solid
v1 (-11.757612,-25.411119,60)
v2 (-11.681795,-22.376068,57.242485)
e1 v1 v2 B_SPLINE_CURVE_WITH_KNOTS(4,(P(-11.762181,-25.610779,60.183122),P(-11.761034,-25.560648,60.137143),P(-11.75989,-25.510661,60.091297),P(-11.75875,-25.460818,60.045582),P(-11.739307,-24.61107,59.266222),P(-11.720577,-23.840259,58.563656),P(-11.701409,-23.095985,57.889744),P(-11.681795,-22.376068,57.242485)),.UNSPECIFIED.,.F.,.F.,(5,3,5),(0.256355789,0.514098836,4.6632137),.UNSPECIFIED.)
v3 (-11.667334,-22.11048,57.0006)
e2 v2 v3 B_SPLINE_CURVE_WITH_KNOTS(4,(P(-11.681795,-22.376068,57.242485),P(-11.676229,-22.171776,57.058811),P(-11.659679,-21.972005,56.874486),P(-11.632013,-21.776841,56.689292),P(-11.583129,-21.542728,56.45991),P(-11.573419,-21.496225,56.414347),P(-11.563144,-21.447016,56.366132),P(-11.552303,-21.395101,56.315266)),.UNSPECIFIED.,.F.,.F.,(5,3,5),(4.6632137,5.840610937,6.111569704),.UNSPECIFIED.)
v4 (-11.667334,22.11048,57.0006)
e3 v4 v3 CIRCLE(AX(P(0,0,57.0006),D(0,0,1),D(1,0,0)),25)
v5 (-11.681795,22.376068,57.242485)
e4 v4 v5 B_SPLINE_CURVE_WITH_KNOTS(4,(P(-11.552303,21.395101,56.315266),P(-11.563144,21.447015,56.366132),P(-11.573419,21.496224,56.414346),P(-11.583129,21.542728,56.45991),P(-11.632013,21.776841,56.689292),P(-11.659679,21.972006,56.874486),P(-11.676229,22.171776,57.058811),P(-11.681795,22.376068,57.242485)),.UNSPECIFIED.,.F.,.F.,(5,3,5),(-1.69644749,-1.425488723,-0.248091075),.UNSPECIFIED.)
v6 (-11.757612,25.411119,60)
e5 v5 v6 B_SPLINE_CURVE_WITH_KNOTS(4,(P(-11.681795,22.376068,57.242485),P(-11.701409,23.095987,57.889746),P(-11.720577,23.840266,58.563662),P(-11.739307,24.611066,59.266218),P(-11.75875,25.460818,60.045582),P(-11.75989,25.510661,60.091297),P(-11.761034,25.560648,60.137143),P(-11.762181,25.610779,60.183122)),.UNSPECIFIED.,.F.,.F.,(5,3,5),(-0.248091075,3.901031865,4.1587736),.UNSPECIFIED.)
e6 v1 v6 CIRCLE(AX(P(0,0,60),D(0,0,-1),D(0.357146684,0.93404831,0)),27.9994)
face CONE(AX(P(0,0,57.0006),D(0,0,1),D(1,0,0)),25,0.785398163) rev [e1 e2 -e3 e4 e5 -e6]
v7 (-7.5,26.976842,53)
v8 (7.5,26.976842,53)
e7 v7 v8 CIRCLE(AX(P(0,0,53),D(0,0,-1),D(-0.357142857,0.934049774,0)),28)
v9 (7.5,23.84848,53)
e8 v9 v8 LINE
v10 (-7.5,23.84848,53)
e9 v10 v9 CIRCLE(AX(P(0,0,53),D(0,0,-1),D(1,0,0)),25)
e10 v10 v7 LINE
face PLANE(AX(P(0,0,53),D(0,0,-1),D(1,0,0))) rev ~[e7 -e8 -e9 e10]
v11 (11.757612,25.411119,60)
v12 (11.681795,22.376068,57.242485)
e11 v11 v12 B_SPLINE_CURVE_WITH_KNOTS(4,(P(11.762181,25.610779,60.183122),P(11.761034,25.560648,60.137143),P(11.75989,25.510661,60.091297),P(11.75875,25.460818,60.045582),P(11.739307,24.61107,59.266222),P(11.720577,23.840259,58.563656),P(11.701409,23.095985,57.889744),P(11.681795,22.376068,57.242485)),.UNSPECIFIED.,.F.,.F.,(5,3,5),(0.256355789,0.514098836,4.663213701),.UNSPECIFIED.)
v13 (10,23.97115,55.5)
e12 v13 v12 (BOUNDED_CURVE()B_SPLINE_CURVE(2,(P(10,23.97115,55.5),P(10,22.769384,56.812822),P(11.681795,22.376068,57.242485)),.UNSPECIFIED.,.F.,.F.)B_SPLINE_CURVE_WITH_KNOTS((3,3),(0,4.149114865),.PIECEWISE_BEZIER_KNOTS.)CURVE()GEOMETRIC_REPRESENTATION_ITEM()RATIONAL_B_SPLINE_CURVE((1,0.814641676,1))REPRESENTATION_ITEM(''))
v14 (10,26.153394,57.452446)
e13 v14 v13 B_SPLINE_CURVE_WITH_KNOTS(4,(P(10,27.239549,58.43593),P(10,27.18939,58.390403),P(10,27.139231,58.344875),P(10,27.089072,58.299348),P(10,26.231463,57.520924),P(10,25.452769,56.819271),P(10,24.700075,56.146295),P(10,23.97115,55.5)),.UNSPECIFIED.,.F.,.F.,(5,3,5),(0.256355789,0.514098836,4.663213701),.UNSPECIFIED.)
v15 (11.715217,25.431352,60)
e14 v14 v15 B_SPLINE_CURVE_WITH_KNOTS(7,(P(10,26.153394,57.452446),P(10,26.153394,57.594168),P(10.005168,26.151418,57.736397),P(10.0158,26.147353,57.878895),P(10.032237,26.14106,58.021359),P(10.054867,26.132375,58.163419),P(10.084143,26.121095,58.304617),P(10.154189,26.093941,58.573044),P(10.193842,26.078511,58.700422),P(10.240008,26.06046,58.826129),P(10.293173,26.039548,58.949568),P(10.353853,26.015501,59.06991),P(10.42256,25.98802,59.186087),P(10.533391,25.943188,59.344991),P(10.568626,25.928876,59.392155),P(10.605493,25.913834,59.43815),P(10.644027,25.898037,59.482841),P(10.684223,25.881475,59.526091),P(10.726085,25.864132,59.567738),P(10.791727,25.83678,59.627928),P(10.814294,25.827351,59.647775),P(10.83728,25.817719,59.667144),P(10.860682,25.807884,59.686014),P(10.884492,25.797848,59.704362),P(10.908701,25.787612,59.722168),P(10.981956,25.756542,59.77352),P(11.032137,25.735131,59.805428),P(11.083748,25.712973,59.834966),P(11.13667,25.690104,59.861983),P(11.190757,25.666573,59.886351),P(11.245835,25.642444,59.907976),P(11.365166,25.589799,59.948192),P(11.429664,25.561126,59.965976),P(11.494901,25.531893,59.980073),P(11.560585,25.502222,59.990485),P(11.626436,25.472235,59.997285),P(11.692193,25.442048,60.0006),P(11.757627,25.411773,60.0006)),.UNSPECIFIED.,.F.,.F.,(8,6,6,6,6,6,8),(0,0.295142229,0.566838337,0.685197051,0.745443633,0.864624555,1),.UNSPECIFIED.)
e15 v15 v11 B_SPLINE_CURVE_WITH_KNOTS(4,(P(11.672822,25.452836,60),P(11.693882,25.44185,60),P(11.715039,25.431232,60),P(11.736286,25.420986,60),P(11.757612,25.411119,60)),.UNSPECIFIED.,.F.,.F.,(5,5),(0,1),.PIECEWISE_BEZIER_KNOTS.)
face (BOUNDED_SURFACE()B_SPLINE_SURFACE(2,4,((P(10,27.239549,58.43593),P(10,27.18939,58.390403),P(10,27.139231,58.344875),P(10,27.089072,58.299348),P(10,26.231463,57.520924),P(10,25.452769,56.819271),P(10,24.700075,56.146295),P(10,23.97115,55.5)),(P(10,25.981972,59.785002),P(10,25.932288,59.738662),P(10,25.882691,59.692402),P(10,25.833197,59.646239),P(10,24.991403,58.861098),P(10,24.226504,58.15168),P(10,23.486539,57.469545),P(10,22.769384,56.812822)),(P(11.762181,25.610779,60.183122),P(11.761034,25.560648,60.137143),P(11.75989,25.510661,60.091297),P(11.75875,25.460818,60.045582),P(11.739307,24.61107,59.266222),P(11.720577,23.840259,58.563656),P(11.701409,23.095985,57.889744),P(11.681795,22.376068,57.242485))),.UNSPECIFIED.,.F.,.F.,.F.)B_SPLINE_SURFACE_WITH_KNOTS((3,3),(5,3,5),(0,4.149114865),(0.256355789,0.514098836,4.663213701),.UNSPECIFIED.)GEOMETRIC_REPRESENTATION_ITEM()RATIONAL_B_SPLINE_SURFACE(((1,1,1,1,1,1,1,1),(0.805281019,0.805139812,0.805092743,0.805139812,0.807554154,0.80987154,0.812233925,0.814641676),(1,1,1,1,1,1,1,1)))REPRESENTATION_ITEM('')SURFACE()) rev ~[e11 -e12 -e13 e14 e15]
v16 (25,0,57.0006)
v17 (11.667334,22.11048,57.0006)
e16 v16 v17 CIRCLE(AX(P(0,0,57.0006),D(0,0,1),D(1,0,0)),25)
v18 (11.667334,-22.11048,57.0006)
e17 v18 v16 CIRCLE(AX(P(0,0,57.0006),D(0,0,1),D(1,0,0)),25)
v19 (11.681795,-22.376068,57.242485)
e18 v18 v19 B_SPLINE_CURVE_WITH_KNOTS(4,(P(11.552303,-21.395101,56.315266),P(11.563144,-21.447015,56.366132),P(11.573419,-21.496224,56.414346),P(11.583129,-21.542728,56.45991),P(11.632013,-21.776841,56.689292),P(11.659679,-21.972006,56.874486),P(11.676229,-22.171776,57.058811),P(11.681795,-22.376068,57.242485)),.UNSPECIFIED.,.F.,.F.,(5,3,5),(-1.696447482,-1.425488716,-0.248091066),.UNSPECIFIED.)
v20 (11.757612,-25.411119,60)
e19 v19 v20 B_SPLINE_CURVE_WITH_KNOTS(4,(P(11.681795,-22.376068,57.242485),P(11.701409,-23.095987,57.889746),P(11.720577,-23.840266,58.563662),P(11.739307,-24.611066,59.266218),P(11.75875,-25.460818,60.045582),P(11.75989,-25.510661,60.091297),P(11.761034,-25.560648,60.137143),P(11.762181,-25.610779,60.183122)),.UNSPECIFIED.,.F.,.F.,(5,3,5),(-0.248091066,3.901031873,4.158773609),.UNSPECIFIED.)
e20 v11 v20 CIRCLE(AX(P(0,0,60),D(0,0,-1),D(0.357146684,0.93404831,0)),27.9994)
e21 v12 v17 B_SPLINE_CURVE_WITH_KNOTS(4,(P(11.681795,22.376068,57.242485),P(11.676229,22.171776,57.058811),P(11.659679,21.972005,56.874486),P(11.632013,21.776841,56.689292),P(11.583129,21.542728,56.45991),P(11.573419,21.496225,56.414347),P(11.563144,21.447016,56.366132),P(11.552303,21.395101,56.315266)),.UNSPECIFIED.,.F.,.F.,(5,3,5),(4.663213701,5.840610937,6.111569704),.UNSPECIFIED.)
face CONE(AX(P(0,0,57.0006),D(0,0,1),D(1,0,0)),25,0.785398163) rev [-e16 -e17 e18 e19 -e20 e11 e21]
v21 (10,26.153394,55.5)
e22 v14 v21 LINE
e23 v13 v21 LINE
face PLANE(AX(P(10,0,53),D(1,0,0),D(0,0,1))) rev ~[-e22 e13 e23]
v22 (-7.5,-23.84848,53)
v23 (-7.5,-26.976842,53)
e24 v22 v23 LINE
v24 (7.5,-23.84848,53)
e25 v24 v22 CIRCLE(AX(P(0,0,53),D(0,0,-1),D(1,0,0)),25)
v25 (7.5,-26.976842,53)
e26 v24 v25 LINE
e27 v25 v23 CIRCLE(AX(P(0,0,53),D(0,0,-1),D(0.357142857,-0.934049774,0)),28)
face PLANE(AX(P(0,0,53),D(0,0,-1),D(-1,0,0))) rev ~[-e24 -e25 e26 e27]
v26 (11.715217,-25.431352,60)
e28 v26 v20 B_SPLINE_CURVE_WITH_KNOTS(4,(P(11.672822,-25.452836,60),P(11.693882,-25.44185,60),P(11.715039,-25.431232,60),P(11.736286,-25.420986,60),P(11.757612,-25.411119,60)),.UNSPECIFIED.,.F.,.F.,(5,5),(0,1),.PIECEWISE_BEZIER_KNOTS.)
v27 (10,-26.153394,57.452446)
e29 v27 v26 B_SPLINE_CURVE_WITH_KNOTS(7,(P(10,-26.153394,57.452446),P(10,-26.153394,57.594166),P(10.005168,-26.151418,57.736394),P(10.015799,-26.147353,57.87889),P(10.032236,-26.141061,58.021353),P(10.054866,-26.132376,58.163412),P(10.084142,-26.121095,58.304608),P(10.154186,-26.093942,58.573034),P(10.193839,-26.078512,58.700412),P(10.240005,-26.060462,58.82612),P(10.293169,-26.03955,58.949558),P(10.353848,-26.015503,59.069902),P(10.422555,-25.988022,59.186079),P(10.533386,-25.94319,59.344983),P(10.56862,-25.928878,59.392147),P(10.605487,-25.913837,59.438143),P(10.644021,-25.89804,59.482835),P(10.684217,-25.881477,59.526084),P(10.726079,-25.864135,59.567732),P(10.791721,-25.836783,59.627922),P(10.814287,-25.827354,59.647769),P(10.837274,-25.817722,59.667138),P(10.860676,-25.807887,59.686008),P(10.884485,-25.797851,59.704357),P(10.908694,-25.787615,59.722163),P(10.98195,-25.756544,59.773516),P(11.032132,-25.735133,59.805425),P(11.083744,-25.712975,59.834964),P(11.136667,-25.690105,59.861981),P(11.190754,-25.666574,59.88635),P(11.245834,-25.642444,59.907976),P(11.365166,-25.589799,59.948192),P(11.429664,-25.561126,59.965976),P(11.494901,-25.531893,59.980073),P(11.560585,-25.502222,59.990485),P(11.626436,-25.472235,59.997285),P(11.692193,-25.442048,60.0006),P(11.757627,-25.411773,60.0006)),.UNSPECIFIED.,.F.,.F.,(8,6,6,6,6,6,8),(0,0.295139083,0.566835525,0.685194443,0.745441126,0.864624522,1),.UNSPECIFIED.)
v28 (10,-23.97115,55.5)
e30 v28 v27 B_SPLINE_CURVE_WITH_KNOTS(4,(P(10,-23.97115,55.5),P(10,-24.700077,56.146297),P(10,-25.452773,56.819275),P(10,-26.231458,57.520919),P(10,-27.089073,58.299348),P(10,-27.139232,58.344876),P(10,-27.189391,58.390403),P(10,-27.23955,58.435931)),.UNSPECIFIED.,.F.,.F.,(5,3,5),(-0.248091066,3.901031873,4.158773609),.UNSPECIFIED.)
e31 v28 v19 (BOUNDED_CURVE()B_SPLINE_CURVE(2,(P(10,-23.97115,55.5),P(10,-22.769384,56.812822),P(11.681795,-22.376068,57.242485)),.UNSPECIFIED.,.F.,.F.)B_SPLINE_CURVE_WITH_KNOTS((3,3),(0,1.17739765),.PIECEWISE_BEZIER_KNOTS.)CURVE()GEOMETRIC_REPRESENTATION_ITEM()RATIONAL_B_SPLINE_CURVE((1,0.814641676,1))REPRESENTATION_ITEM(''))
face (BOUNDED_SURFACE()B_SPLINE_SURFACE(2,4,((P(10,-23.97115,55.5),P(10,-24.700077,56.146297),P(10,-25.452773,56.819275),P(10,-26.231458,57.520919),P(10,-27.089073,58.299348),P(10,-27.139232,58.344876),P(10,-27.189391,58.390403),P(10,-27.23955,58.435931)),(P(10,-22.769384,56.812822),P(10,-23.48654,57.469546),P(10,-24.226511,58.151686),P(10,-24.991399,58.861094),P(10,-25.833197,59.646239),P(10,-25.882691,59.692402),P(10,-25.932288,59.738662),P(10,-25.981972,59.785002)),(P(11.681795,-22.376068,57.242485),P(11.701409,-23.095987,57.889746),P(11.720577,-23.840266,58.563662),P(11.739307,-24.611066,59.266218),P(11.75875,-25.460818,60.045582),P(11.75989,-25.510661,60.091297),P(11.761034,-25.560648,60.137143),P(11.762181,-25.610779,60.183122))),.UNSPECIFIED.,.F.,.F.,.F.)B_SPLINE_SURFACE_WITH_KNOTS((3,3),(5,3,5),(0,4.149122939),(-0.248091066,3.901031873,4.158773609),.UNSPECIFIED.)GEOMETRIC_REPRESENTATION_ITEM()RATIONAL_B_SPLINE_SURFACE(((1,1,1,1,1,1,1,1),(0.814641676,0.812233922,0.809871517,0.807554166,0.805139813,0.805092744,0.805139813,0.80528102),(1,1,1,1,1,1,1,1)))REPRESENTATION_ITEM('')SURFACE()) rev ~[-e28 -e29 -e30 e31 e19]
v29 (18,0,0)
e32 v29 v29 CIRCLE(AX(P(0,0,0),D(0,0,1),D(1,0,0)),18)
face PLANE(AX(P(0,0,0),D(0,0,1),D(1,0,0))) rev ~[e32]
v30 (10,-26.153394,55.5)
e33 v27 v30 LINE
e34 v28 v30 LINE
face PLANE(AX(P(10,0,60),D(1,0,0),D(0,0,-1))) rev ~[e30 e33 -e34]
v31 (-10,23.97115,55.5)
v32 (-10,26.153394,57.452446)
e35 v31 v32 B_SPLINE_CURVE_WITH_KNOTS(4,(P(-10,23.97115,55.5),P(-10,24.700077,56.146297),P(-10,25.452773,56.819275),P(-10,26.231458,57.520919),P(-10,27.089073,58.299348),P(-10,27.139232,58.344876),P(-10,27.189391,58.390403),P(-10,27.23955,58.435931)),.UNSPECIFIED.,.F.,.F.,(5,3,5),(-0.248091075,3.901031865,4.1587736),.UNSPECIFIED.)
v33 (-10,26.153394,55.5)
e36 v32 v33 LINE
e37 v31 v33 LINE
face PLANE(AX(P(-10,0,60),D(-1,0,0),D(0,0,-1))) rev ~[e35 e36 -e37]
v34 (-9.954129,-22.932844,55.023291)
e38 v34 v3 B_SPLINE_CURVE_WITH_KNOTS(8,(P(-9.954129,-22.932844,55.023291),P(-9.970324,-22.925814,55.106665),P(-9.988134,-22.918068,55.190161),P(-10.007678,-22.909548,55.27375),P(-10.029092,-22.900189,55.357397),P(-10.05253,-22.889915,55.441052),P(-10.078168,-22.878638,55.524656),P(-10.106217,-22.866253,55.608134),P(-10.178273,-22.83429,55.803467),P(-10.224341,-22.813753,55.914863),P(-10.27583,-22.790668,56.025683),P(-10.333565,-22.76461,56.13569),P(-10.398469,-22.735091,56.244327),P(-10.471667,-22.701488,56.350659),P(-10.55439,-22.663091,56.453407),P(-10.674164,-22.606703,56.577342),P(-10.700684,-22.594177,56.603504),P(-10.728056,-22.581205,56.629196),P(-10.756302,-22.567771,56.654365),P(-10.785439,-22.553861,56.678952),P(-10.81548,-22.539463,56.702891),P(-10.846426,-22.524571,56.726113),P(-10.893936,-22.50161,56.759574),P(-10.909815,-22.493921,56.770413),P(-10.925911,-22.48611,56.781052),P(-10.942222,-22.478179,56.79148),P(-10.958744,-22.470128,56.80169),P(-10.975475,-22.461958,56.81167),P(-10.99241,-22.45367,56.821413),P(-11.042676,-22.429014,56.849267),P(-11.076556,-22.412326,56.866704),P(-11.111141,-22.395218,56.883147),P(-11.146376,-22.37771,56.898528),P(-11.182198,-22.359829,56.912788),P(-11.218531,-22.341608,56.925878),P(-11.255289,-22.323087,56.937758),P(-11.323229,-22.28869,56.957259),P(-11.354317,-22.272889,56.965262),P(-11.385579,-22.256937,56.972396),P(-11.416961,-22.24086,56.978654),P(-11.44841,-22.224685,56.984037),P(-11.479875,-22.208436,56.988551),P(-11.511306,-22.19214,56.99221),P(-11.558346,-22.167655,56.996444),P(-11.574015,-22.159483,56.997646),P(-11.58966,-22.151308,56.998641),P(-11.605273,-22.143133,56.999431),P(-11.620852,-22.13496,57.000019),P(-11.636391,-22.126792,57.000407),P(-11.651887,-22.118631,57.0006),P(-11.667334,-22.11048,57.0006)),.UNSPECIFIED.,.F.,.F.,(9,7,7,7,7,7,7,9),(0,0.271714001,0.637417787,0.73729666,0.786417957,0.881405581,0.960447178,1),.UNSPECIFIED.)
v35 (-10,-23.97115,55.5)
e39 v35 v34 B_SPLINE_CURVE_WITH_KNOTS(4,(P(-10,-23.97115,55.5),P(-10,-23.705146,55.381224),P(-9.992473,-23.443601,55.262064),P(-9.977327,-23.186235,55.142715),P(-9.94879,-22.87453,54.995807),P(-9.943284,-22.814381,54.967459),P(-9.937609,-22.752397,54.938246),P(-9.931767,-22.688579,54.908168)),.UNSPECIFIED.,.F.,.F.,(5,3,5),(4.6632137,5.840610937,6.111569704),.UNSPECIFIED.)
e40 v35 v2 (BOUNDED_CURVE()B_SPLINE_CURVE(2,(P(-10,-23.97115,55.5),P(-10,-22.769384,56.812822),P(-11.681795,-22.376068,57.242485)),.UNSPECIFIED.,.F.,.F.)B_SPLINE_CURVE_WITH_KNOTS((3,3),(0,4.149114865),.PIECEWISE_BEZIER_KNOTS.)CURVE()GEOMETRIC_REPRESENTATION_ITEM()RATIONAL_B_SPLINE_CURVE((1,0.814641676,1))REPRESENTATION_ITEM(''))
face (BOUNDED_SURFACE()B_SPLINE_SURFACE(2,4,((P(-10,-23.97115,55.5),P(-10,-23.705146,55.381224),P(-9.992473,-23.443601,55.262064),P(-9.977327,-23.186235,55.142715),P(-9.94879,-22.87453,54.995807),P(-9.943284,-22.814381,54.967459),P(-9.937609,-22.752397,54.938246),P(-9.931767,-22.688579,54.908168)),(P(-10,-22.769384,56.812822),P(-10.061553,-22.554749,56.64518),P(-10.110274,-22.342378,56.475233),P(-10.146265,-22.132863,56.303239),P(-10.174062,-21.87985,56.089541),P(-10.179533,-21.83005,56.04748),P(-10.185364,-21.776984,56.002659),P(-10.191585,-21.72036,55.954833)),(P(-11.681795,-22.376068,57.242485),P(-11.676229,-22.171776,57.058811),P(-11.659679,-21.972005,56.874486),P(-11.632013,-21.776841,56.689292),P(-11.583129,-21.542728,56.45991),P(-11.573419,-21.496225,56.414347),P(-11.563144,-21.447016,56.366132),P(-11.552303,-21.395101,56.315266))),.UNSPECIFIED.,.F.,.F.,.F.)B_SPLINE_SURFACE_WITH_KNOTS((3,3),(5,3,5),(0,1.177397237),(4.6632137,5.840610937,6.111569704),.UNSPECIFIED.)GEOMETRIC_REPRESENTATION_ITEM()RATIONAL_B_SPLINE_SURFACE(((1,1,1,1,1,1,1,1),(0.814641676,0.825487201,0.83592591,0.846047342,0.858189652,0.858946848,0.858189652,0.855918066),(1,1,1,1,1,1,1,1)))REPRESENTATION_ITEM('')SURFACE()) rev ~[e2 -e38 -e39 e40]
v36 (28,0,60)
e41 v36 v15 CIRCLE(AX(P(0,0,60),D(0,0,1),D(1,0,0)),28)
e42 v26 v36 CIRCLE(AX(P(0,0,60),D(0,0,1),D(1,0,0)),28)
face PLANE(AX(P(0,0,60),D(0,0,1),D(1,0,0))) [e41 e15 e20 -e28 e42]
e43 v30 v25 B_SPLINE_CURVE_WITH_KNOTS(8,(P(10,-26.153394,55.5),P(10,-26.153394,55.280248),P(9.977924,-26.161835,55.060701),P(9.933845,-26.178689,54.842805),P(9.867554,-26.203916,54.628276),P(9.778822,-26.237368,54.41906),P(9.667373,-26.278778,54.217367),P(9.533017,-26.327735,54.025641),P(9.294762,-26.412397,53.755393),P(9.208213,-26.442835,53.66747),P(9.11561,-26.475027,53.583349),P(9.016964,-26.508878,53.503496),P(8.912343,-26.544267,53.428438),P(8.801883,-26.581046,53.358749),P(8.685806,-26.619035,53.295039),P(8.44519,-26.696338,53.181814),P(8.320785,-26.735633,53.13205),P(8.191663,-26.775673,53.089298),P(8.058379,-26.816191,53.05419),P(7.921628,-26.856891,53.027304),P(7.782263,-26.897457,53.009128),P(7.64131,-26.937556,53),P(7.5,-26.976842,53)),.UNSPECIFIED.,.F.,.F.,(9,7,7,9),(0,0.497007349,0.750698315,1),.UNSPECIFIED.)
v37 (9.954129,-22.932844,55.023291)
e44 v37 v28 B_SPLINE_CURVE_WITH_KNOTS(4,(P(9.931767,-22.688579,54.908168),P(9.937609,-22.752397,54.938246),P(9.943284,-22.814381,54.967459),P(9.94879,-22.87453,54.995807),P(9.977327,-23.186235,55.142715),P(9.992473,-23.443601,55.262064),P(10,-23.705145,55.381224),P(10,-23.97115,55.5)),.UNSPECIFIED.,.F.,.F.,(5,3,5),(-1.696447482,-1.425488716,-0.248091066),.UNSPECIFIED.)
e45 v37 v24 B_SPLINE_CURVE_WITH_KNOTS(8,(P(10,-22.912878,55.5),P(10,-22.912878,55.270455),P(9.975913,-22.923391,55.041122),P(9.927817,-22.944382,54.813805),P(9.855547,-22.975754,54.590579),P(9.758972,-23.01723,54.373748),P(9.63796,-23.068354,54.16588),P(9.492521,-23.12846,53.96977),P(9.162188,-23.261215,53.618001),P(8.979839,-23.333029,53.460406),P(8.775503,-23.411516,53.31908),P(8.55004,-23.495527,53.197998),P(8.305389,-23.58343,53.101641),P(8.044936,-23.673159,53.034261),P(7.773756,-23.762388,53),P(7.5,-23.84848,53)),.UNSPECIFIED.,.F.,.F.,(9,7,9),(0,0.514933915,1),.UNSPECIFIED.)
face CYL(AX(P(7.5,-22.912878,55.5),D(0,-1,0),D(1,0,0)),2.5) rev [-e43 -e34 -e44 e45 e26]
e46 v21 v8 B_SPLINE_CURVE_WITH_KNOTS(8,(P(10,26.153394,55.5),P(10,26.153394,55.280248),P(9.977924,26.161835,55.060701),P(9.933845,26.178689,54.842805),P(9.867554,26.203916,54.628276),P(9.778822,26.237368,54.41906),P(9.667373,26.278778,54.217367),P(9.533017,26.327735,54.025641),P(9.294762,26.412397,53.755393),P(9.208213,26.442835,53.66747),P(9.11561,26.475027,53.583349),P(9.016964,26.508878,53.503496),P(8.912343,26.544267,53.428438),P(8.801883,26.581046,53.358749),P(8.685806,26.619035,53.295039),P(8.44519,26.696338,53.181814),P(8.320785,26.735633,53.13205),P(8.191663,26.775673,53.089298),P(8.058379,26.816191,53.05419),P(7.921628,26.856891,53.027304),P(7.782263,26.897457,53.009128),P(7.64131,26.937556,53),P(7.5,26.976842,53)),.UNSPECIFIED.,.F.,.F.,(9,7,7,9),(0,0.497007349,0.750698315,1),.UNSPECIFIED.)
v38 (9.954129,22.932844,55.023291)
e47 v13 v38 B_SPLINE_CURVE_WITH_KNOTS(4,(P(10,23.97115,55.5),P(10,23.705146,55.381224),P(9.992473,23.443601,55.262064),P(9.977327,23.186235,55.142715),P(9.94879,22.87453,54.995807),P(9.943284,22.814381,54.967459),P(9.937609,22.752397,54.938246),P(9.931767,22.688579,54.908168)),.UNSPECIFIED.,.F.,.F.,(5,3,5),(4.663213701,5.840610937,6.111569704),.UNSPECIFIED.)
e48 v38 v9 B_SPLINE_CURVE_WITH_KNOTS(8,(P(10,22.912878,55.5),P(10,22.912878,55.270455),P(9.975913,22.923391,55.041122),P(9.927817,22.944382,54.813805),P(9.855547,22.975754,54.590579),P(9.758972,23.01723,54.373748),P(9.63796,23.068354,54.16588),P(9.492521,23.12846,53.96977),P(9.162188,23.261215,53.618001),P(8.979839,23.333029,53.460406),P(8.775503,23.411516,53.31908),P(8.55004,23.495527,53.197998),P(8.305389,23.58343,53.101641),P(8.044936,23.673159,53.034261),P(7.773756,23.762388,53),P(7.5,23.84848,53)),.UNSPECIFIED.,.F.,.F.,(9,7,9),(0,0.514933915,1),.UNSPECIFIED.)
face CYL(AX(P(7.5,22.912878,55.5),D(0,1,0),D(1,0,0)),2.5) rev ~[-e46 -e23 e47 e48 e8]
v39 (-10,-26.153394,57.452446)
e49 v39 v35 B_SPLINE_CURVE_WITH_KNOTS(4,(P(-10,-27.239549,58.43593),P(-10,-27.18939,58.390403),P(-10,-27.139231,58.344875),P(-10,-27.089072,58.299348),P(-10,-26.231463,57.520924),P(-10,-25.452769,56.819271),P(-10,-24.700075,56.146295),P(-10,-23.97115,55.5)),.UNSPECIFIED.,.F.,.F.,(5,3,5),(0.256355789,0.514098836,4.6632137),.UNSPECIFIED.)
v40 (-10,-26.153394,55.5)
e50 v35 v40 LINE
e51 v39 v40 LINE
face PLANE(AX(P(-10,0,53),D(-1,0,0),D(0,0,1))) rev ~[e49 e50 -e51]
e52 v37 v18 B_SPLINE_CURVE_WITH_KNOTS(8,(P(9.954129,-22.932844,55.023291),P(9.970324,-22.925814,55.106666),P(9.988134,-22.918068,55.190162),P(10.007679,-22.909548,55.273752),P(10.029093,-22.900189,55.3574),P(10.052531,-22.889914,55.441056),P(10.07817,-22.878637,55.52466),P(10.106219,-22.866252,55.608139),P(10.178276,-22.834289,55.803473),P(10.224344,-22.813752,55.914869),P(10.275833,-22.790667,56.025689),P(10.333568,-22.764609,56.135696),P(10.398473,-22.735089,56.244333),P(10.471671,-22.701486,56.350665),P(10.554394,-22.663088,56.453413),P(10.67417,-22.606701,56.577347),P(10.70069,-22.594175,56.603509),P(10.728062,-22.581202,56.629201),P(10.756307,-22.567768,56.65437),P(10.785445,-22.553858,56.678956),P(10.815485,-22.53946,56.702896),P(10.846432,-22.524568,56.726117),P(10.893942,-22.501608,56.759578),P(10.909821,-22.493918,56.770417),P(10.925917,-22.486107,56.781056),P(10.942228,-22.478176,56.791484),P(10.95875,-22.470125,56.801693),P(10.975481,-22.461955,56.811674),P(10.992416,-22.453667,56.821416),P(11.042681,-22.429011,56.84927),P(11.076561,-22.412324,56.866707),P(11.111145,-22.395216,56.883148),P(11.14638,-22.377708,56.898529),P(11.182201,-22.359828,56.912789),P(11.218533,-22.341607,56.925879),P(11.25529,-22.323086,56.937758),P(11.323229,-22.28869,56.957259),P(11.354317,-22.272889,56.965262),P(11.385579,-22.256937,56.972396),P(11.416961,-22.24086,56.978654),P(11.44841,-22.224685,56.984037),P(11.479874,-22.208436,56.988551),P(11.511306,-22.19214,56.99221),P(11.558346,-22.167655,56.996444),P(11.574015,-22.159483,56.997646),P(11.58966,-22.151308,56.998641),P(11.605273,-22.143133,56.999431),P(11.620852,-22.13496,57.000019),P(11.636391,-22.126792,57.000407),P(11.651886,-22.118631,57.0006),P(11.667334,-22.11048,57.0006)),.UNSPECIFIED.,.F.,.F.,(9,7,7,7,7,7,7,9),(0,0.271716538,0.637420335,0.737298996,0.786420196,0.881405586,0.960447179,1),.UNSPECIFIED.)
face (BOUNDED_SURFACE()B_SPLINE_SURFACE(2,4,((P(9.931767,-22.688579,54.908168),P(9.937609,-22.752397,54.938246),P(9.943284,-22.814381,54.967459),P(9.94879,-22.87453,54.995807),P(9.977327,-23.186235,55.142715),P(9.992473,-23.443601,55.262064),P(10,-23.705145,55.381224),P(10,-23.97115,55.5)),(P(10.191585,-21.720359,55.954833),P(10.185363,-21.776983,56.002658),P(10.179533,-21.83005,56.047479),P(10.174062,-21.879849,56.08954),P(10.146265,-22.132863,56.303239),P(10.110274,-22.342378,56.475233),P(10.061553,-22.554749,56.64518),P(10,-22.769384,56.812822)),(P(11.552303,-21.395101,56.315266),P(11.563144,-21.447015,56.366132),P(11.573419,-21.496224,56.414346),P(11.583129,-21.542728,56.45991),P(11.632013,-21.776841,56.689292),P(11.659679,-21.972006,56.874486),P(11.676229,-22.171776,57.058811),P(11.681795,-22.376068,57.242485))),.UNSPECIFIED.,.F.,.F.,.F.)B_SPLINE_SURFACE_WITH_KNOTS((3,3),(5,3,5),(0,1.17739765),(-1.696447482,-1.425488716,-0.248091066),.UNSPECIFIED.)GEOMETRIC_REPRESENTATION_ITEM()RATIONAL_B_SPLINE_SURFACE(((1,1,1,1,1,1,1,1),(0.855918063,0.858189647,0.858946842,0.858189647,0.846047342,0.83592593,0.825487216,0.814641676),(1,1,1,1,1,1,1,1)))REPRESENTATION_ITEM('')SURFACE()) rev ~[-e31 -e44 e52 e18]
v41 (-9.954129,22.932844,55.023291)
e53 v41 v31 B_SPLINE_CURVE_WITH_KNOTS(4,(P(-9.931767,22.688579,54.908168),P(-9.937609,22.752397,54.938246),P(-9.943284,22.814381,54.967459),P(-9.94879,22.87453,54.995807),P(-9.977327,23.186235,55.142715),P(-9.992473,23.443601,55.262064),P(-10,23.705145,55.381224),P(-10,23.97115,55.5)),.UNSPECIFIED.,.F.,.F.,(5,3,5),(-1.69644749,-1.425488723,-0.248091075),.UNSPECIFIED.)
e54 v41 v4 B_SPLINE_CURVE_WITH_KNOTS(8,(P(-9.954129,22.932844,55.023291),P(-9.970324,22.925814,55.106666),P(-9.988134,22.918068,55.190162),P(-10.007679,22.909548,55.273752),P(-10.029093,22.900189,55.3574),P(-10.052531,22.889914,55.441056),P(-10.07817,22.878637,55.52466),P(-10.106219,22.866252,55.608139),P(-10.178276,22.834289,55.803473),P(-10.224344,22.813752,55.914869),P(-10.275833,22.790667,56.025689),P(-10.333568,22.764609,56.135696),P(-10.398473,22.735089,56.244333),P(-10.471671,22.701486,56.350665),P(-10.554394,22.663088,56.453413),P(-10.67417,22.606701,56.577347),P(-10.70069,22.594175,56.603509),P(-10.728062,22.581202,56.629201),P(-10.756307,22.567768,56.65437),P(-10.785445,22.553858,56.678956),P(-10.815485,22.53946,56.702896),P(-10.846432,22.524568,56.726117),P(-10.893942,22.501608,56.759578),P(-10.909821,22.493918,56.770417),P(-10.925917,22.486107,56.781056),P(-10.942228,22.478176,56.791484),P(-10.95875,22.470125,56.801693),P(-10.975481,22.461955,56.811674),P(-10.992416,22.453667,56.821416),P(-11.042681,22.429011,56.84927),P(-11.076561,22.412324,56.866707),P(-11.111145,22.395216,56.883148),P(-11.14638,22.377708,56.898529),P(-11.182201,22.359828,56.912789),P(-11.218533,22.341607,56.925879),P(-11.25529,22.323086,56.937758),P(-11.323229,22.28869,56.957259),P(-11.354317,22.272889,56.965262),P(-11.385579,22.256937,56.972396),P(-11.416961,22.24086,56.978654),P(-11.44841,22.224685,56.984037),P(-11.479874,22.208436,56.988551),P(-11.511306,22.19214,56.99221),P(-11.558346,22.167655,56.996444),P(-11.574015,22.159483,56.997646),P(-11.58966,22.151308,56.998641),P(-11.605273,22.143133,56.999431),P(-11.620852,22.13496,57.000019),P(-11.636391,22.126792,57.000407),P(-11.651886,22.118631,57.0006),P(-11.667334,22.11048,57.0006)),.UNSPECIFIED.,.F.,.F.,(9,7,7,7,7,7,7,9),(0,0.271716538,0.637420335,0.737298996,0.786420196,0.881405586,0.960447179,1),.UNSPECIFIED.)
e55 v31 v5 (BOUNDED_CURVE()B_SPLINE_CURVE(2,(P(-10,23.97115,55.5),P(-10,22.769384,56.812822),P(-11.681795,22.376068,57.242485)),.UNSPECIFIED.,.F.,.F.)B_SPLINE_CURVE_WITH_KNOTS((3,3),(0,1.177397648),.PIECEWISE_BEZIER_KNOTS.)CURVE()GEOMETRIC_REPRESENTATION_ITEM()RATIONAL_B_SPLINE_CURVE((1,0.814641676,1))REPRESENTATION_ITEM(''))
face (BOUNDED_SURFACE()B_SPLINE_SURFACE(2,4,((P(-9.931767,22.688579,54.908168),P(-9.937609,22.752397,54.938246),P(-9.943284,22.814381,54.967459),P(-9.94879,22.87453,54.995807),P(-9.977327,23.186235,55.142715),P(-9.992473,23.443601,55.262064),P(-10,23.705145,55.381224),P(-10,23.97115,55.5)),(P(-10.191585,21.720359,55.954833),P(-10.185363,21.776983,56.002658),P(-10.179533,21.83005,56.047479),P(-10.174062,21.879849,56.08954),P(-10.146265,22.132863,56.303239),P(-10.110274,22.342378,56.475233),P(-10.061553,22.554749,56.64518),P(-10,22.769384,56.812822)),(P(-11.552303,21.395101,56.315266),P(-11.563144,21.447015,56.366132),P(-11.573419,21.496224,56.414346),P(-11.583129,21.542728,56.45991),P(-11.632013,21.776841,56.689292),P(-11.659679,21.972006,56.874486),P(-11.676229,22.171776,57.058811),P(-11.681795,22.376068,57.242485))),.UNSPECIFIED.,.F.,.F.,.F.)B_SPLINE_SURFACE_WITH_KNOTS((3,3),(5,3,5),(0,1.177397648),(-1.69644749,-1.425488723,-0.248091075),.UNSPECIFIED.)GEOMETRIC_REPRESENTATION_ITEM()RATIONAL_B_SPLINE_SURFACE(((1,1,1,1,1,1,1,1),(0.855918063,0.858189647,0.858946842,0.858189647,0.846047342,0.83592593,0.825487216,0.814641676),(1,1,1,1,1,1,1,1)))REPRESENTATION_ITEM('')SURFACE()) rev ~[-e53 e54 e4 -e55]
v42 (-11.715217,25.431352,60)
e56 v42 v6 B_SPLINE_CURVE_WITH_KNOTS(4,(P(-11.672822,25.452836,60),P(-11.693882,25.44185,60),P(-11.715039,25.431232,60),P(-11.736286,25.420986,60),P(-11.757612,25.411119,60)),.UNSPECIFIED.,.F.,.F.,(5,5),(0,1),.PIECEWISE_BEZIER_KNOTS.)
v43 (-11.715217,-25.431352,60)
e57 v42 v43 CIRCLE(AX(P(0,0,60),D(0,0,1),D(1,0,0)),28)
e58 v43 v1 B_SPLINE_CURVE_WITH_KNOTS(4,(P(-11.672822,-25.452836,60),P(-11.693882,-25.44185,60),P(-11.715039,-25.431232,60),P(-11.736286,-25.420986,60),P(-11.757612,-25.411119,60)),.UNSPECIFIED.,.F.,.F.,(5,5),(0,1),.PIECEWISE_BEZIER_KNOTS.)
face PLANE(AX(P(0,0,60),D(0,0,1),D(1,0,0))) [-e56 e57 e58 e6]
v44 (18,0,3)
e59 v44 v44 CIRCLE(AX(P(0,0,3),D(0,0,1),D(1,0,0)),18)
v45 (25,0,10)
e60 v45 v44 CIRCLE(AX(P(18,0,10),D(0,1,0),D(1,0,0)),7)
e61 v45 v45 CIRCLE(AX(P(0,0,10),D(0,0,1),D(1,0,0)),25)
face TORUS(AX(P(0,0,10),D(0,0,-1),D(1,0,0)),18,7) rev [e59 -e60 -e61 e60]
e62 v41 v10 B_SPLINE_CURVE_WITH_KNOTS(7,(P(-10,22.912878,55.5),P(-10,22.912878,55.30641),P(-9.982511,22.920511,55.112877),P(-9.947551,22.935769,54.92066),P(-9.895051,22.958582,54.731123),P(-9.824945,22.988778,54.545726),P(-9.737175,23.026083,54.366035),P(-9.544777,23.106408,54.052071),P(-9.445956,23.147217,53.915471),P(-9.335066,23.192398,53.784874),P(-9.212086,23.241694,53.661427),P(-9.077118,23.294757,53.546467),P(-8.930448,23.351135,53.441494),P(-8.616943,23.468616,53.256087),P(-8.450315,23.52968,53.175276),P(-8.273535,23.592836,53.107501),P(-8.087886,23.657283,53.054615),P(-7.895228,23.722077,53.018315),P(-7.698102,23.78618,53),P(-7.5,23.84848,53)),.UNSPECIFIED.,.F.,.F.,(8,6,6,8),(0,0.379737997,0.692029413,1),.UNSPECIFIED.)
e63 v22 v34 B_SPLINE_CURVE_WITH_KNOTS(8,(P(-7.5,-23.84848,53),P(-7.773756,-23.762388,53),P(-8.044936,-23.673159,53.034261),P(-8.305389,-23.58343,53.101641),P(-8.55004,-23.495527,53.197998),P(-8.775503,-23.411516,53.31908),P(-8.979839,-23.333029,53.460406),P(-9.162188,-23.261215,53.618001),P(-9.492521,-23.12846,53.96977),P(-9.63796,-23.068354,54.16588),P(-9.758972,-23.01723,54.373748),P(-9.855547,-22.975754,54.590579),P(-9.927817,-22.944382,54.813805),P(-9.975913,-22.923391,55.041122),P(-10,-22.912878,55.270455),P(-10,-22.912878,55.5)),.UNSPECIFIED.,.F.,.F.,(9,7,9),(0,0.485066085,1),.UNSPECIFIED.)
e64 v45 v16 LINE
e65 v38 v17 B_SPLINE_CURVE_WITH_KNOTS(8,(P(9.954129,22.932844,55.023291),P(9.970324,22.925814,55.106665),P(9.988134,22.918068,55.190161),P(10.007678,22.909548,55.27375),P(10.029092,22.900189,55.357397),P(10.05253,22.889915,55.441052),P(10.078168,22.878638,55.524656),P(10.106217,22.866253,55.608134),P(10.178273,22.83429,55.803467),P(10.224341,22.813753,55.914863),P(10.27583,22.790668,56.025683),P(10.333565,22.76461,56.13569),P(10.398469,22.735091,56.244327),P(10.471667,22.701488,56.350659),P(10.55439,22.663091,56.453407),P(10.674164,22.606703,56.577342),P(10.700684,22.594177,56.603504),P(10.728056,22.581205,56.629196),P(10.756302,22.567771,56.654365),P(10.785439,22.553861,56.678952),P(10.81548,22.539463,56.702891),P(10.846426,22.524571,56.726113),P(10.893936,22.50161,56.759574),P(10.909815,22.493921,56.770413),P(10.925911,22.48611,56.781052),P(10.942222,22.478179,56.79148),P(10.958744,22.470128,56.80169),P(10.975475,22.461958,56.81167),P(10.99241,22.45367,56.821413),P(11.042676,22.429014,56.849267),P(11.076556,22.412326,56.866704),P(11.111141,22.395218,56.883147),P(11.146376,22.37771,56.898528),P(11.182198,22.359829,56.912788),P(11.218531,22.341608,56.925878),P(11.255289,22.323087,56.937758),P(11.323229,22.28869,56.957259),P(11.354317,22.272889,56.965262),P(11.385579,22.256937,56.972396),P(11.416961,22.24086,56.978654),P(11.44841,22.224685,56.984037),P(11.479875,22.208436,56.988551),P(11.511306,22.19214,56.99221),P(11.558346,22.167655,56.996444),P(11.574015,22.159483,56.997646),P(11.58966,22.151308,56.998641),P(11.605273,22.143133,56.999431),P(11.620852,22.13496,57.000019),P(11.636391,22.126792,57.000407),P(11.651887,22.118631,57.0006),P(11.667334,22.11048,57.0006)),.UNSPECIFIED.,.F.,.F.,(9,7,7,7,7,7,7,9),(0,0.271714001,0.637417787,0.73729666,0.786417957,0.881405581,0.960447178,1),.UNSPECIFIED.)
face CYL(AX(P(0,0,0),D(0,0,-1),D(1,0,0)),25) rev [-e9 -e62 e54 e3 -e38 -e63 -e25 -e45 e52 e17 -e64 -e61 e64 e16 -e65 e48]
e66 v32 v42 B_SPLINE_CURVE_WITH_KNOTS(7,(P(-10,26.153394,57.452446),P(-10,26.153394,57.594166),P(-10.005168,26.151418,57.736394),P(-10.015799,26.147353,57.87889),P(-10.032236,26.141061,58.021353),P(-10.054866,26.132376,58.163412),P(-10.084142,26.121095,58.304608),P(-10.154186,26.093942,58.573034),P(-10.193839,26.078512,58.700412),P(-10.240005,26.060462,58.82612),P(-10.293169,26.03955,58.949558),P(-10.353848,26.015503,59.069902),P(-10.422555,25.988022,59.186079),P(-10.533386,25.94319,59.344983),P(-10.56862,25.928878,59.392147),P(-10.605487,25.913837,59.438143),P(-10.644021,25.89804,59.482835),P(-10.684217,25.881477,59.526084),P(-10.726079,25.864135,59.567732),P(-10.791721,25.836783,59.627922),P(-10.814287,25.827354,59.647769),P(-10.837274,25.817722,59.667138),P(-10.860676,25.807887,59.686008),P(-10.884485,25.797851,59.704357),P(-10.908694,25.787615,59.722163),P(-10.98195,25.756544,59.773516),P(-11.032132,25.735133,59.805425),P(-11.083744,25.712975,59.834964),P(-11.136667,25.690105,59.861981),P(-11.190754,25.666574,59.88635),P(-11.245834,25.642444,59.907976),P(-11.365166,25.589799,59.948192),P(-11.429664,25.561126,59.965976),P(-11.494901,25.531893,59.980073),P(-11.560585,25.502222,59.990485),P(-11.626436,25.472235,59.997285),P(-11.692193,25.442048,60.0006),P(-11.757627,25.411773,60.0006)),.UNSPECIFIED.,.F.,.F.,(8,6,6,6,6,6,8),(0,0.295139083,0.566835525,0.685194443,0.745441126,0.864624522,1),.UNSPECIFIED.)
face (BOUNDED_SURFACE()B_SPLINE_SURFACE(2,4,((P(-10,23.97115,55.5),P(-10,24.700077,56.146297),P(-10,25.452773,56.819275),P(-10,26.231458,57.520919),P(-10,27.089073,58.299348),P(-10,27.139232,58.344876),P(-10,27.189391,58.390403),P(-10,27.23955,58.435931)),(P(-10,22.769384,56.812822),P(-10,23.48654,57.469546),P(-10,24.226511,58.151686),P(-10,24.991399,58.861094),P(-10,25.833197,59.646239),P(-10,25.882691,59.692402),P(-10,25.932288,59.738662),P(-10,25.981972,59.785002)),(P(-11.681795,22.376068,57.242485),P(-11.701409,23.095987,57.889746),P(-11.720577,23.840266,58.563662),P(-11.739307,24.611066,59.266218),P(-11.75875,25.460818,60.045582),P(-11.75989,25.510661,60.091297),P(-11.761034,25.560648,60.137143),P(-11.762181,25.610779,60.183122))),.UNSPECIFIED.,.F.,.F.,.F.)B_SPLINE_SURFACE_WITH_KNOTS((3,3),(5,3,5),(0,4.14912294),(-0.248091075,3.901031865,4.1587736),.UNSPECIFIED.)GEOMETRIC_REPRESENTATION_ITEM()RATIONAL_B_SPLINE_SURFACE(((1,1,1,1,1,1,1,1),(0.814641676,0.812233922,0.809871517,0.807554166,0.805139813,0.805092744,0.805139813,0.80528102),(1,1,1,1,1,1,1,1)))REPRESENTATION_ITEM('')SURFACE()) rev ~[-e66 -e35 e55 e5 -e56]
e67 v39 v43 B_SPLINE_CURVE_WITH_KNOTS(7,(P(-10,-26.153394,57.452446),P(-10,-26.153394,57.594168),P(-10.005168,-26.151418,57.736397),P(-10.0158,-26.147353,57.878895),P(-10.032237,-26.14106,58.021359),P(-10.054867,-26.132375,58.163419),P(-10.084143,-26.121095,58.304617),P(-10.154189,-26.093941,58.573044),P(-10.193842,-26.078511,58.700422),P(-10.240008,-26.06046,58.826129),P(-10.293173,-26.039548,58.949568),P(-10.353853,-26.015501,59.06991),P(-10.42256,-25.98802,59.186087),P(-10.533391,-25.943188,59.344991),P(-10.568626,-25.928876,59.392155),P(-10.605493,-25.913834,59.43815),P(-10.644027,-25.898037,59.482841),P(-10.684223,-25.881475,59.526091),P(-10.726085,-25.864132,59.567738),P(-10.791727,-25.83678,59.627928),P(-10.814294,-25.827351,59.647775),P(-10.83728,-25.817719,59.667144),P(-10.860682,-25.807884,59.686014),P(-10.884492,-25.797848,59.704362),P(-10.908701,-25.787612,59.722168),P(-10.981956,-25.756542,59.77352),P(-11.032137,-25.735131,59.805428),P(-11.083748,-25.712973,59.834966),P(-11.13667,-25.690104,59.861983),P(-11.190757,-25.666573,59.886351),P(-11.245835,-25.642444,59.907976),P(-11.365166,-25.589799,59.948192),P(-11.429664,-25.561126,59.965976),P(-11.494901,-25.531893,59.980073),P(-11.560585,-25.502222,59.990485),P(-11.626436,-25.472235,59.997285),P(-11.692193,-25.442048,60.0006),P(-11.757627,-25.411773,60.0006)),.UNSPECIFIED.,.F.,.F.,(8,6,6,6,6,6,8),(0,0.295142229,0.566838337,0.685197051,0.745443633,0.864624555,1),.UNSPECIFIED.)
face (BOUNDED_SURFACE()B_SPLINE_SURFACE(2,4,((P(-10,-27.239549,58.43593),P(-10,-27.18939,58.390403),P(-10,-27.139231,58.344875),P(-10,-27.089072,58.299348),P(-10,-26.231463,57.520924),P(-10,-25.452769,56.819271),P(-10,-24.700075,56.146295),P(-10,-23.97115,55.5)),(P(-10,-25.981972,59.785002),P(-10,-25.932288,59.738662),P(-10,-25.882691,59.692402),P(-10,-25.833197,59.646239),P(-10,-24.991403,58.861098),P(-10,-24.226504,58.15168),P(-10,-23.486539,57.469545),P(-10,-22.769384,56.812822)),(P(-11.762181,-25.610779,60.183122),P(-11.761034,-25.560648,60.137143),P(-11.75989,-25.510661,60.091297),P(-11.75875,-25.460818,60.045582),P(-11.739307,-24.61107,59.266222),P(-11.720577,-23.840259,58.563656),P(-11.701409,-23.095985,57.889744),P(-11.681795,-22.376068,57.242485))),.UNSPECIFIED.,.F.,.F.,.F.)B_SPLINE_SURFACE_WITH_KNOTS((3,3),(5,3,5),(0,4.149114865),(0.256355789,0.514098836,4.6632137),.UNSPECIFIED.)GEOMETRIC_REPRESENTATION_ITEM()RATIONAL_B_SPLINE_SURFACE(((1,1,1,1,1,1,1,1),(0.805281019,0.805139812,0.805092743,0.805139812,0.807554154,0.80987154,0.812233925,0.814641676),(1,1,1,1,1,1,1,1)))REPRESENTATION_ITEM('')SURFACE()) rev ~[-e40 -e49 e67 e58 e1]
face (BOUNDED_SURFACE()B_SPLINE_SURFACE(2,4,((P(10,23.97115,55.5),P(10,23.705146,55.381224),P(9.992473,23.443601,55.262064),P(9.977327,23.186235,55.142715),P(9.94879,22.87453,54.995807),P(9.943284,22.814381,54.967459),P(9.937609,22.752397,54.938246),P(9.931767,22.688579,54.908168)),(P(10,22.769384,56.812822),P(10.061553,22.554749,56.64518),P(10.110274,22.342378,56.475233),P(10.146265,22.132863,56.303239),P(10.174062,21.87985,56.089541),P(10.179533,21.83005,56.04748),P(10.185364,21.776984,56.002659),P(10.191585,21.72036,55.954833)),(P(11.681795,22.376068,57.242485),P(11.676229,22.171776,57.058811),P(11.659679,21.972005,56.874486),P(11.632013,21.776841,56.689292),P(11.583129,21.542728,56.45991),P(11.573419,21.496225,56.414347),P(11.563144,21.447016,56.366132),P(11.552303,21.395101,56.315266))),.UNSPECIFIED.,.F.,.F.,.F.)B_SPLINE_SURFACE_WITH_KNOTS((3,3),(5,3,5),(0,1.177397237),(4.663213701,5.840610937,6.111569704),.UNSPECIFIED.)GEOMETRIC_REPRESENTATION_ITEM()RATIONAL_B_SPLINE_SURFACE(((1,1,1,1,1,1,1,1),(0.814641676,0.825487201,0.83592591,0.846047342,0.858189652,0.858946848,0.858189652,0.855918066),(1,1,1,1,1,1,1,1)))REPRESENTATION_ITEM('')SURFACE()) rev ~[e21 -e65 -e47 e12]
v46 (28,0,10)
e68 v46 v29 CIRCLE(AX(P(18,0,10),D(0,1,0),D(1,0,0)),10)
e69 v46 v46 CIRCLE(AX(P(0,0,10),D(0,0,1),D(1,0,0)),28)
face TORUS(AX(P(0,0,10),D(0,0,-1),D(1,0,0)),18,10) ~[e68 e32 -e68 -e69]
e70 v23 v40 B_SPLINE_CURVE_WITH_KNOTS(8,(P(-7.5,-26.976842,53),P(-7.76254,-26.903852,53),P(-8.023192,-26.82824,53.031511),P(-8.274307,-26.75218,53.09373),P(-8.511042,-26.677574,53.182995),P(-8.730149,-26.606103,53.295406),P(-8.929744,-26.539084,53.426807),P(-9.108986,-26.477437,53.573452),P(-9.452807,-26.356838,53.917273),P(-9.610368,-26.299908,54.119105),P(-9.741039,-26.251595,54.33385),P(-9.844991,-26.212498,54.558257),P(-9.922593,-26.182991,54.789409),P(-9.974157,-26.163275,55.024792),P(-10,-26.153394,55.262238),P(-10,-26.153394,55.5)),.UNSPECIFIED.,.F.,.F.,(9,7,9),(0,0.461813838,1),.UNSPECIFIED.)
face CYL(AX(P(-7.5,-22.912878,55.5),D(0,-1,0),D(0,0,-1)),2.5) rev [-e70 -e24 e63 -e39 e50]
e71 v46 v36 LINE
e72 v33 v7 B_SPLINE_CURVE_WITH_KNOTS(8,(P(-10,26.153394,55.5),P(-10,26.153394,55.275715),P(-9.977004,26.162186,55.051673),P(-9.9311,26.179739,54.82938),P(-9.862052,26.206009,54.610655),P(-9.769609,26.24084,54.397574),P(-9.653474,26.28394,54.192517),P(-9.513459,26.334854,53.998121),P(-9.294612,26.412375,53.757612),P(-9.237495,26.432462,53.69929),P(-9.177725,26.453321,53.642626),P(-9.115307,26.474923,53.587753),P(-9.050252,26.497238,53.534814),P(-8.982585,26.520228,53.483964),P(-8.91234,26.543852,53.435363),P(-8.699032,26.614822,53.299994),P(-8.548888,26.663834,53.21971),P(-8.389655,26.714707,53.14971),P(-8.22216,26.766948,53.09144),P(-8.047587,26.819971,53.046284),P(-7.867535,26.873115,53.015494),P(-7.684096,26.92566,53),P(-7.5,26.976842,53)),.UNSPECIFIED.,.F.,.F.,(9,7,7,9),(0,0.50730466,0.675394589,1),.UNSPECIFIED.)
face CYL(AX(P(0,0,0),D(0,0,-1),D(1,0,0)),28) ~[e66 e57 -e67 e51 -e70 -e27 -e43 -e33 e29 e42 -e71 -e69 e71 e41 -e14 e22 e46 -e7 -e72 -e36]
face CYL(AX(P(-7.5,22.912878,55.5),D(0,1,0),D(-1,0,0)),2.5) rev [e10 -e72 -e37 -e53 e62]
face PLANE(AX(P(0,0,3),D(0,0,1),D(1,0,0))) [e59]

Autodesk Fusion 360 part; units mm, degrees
sketch "Sketch1" plane through (0, 0, 0) normal (0, 0, 1) x (1, 0, 0)
  circle A0 centre (0, 0) radius 25
  circle A1 centre (0, 0) radius 28
  dimension "d4" = 50
  dimension "d5" = 56
extrude "Extrude1" add sketch "Sketch1" along normal blind 3 contours A0
extrude "Extrude2" add sketch "Sketch1" along normal blind 60
fillet "Fillet1" radius 7 1 edges at (-23.3082, -9.0404, 3)
fillet "Fillet2" radius 10 1 edges at (-26.1052, -10.1252, 0)
chamfer "Chamfer1" distance 3 angle 45 1 edges at (-23.3082, 9.0404, 60)
sketch "Sketch2" plane through (0, 0, 0) normal (0, 1, 0) x (1, 0, 0)
  line L0 (0, 0) -> (0, -60)
  line L1 (0, -60) -> (10, -60)
  line L2 (10, -60) -> (-10, -60)
  line L3 (-10, -60) -> (-10, -53)
  line L4 (-10, -53) -> (10, -53)
  line L5 (10, -53) -> (10, -60)
  dimension "d18" = 60
  dimension "d20" = 10
  dimension "d21" = 20
  dimension "d22" = 7
extrude "Extrude3" cut sketch "Sketch2" along normal blind 28
fillet "Fillet3" radius 2.5 2 edges at (10, 24.5331, 53) (-10, 24.5331, 53)
fillet "Fillet4" radius 2.5 2 edges at (10, 24.4872, 58.4504) (-10, 24.4872, 58.4504)
pattern_circular "C-Pattern1" count 2 over 360 about axis through (0, 0, 1.75) along (0, 0, 1) of "Extrude3", "Fillet3", "Fillet4"
equation "wall_thinkness = 3 mm"
equation "pot_height = 60 mm"
equation "pot_diameter = 50 mm"
equation "d4 = pot_diameter"
equation "d5 = pot_diameter + ( 2 * wall_thinkness )"
equation "d6 = wall_thinkness"
equation "d8 = pot_height"
equation "pot_bottom_outer_fillet = 10 mm"
equation "d12 = pot_bottom_outer_fillet - wall_thinkness"
equation "d14 = pot_bottom_outer_fillet"
equation "d15 = wall_thinkness"
equation "pot_finger_cutout_num = 2"
equation "pot_finger_cutout_width = 20 mm"
equation "d18 = pot_height"
equation "pot_finger_cutout_height = 7 mm"
equation "d20 = pot_finger_cutout_width / 2"
equation "d21 = pot_finger_cutout_width"
equation "d22 = pot_finger_cutout_height"
equation "d23 = ( pot_diameter + wall_thinkness * 2 ) / 2"
equation "d26 = pot_finger_cutout_height / 2 - 1 mm"
equation "d28 = pot_finger_cutout_height / 2 - 1 mm"
equation "d29 = pot_finger_cutout_num"
